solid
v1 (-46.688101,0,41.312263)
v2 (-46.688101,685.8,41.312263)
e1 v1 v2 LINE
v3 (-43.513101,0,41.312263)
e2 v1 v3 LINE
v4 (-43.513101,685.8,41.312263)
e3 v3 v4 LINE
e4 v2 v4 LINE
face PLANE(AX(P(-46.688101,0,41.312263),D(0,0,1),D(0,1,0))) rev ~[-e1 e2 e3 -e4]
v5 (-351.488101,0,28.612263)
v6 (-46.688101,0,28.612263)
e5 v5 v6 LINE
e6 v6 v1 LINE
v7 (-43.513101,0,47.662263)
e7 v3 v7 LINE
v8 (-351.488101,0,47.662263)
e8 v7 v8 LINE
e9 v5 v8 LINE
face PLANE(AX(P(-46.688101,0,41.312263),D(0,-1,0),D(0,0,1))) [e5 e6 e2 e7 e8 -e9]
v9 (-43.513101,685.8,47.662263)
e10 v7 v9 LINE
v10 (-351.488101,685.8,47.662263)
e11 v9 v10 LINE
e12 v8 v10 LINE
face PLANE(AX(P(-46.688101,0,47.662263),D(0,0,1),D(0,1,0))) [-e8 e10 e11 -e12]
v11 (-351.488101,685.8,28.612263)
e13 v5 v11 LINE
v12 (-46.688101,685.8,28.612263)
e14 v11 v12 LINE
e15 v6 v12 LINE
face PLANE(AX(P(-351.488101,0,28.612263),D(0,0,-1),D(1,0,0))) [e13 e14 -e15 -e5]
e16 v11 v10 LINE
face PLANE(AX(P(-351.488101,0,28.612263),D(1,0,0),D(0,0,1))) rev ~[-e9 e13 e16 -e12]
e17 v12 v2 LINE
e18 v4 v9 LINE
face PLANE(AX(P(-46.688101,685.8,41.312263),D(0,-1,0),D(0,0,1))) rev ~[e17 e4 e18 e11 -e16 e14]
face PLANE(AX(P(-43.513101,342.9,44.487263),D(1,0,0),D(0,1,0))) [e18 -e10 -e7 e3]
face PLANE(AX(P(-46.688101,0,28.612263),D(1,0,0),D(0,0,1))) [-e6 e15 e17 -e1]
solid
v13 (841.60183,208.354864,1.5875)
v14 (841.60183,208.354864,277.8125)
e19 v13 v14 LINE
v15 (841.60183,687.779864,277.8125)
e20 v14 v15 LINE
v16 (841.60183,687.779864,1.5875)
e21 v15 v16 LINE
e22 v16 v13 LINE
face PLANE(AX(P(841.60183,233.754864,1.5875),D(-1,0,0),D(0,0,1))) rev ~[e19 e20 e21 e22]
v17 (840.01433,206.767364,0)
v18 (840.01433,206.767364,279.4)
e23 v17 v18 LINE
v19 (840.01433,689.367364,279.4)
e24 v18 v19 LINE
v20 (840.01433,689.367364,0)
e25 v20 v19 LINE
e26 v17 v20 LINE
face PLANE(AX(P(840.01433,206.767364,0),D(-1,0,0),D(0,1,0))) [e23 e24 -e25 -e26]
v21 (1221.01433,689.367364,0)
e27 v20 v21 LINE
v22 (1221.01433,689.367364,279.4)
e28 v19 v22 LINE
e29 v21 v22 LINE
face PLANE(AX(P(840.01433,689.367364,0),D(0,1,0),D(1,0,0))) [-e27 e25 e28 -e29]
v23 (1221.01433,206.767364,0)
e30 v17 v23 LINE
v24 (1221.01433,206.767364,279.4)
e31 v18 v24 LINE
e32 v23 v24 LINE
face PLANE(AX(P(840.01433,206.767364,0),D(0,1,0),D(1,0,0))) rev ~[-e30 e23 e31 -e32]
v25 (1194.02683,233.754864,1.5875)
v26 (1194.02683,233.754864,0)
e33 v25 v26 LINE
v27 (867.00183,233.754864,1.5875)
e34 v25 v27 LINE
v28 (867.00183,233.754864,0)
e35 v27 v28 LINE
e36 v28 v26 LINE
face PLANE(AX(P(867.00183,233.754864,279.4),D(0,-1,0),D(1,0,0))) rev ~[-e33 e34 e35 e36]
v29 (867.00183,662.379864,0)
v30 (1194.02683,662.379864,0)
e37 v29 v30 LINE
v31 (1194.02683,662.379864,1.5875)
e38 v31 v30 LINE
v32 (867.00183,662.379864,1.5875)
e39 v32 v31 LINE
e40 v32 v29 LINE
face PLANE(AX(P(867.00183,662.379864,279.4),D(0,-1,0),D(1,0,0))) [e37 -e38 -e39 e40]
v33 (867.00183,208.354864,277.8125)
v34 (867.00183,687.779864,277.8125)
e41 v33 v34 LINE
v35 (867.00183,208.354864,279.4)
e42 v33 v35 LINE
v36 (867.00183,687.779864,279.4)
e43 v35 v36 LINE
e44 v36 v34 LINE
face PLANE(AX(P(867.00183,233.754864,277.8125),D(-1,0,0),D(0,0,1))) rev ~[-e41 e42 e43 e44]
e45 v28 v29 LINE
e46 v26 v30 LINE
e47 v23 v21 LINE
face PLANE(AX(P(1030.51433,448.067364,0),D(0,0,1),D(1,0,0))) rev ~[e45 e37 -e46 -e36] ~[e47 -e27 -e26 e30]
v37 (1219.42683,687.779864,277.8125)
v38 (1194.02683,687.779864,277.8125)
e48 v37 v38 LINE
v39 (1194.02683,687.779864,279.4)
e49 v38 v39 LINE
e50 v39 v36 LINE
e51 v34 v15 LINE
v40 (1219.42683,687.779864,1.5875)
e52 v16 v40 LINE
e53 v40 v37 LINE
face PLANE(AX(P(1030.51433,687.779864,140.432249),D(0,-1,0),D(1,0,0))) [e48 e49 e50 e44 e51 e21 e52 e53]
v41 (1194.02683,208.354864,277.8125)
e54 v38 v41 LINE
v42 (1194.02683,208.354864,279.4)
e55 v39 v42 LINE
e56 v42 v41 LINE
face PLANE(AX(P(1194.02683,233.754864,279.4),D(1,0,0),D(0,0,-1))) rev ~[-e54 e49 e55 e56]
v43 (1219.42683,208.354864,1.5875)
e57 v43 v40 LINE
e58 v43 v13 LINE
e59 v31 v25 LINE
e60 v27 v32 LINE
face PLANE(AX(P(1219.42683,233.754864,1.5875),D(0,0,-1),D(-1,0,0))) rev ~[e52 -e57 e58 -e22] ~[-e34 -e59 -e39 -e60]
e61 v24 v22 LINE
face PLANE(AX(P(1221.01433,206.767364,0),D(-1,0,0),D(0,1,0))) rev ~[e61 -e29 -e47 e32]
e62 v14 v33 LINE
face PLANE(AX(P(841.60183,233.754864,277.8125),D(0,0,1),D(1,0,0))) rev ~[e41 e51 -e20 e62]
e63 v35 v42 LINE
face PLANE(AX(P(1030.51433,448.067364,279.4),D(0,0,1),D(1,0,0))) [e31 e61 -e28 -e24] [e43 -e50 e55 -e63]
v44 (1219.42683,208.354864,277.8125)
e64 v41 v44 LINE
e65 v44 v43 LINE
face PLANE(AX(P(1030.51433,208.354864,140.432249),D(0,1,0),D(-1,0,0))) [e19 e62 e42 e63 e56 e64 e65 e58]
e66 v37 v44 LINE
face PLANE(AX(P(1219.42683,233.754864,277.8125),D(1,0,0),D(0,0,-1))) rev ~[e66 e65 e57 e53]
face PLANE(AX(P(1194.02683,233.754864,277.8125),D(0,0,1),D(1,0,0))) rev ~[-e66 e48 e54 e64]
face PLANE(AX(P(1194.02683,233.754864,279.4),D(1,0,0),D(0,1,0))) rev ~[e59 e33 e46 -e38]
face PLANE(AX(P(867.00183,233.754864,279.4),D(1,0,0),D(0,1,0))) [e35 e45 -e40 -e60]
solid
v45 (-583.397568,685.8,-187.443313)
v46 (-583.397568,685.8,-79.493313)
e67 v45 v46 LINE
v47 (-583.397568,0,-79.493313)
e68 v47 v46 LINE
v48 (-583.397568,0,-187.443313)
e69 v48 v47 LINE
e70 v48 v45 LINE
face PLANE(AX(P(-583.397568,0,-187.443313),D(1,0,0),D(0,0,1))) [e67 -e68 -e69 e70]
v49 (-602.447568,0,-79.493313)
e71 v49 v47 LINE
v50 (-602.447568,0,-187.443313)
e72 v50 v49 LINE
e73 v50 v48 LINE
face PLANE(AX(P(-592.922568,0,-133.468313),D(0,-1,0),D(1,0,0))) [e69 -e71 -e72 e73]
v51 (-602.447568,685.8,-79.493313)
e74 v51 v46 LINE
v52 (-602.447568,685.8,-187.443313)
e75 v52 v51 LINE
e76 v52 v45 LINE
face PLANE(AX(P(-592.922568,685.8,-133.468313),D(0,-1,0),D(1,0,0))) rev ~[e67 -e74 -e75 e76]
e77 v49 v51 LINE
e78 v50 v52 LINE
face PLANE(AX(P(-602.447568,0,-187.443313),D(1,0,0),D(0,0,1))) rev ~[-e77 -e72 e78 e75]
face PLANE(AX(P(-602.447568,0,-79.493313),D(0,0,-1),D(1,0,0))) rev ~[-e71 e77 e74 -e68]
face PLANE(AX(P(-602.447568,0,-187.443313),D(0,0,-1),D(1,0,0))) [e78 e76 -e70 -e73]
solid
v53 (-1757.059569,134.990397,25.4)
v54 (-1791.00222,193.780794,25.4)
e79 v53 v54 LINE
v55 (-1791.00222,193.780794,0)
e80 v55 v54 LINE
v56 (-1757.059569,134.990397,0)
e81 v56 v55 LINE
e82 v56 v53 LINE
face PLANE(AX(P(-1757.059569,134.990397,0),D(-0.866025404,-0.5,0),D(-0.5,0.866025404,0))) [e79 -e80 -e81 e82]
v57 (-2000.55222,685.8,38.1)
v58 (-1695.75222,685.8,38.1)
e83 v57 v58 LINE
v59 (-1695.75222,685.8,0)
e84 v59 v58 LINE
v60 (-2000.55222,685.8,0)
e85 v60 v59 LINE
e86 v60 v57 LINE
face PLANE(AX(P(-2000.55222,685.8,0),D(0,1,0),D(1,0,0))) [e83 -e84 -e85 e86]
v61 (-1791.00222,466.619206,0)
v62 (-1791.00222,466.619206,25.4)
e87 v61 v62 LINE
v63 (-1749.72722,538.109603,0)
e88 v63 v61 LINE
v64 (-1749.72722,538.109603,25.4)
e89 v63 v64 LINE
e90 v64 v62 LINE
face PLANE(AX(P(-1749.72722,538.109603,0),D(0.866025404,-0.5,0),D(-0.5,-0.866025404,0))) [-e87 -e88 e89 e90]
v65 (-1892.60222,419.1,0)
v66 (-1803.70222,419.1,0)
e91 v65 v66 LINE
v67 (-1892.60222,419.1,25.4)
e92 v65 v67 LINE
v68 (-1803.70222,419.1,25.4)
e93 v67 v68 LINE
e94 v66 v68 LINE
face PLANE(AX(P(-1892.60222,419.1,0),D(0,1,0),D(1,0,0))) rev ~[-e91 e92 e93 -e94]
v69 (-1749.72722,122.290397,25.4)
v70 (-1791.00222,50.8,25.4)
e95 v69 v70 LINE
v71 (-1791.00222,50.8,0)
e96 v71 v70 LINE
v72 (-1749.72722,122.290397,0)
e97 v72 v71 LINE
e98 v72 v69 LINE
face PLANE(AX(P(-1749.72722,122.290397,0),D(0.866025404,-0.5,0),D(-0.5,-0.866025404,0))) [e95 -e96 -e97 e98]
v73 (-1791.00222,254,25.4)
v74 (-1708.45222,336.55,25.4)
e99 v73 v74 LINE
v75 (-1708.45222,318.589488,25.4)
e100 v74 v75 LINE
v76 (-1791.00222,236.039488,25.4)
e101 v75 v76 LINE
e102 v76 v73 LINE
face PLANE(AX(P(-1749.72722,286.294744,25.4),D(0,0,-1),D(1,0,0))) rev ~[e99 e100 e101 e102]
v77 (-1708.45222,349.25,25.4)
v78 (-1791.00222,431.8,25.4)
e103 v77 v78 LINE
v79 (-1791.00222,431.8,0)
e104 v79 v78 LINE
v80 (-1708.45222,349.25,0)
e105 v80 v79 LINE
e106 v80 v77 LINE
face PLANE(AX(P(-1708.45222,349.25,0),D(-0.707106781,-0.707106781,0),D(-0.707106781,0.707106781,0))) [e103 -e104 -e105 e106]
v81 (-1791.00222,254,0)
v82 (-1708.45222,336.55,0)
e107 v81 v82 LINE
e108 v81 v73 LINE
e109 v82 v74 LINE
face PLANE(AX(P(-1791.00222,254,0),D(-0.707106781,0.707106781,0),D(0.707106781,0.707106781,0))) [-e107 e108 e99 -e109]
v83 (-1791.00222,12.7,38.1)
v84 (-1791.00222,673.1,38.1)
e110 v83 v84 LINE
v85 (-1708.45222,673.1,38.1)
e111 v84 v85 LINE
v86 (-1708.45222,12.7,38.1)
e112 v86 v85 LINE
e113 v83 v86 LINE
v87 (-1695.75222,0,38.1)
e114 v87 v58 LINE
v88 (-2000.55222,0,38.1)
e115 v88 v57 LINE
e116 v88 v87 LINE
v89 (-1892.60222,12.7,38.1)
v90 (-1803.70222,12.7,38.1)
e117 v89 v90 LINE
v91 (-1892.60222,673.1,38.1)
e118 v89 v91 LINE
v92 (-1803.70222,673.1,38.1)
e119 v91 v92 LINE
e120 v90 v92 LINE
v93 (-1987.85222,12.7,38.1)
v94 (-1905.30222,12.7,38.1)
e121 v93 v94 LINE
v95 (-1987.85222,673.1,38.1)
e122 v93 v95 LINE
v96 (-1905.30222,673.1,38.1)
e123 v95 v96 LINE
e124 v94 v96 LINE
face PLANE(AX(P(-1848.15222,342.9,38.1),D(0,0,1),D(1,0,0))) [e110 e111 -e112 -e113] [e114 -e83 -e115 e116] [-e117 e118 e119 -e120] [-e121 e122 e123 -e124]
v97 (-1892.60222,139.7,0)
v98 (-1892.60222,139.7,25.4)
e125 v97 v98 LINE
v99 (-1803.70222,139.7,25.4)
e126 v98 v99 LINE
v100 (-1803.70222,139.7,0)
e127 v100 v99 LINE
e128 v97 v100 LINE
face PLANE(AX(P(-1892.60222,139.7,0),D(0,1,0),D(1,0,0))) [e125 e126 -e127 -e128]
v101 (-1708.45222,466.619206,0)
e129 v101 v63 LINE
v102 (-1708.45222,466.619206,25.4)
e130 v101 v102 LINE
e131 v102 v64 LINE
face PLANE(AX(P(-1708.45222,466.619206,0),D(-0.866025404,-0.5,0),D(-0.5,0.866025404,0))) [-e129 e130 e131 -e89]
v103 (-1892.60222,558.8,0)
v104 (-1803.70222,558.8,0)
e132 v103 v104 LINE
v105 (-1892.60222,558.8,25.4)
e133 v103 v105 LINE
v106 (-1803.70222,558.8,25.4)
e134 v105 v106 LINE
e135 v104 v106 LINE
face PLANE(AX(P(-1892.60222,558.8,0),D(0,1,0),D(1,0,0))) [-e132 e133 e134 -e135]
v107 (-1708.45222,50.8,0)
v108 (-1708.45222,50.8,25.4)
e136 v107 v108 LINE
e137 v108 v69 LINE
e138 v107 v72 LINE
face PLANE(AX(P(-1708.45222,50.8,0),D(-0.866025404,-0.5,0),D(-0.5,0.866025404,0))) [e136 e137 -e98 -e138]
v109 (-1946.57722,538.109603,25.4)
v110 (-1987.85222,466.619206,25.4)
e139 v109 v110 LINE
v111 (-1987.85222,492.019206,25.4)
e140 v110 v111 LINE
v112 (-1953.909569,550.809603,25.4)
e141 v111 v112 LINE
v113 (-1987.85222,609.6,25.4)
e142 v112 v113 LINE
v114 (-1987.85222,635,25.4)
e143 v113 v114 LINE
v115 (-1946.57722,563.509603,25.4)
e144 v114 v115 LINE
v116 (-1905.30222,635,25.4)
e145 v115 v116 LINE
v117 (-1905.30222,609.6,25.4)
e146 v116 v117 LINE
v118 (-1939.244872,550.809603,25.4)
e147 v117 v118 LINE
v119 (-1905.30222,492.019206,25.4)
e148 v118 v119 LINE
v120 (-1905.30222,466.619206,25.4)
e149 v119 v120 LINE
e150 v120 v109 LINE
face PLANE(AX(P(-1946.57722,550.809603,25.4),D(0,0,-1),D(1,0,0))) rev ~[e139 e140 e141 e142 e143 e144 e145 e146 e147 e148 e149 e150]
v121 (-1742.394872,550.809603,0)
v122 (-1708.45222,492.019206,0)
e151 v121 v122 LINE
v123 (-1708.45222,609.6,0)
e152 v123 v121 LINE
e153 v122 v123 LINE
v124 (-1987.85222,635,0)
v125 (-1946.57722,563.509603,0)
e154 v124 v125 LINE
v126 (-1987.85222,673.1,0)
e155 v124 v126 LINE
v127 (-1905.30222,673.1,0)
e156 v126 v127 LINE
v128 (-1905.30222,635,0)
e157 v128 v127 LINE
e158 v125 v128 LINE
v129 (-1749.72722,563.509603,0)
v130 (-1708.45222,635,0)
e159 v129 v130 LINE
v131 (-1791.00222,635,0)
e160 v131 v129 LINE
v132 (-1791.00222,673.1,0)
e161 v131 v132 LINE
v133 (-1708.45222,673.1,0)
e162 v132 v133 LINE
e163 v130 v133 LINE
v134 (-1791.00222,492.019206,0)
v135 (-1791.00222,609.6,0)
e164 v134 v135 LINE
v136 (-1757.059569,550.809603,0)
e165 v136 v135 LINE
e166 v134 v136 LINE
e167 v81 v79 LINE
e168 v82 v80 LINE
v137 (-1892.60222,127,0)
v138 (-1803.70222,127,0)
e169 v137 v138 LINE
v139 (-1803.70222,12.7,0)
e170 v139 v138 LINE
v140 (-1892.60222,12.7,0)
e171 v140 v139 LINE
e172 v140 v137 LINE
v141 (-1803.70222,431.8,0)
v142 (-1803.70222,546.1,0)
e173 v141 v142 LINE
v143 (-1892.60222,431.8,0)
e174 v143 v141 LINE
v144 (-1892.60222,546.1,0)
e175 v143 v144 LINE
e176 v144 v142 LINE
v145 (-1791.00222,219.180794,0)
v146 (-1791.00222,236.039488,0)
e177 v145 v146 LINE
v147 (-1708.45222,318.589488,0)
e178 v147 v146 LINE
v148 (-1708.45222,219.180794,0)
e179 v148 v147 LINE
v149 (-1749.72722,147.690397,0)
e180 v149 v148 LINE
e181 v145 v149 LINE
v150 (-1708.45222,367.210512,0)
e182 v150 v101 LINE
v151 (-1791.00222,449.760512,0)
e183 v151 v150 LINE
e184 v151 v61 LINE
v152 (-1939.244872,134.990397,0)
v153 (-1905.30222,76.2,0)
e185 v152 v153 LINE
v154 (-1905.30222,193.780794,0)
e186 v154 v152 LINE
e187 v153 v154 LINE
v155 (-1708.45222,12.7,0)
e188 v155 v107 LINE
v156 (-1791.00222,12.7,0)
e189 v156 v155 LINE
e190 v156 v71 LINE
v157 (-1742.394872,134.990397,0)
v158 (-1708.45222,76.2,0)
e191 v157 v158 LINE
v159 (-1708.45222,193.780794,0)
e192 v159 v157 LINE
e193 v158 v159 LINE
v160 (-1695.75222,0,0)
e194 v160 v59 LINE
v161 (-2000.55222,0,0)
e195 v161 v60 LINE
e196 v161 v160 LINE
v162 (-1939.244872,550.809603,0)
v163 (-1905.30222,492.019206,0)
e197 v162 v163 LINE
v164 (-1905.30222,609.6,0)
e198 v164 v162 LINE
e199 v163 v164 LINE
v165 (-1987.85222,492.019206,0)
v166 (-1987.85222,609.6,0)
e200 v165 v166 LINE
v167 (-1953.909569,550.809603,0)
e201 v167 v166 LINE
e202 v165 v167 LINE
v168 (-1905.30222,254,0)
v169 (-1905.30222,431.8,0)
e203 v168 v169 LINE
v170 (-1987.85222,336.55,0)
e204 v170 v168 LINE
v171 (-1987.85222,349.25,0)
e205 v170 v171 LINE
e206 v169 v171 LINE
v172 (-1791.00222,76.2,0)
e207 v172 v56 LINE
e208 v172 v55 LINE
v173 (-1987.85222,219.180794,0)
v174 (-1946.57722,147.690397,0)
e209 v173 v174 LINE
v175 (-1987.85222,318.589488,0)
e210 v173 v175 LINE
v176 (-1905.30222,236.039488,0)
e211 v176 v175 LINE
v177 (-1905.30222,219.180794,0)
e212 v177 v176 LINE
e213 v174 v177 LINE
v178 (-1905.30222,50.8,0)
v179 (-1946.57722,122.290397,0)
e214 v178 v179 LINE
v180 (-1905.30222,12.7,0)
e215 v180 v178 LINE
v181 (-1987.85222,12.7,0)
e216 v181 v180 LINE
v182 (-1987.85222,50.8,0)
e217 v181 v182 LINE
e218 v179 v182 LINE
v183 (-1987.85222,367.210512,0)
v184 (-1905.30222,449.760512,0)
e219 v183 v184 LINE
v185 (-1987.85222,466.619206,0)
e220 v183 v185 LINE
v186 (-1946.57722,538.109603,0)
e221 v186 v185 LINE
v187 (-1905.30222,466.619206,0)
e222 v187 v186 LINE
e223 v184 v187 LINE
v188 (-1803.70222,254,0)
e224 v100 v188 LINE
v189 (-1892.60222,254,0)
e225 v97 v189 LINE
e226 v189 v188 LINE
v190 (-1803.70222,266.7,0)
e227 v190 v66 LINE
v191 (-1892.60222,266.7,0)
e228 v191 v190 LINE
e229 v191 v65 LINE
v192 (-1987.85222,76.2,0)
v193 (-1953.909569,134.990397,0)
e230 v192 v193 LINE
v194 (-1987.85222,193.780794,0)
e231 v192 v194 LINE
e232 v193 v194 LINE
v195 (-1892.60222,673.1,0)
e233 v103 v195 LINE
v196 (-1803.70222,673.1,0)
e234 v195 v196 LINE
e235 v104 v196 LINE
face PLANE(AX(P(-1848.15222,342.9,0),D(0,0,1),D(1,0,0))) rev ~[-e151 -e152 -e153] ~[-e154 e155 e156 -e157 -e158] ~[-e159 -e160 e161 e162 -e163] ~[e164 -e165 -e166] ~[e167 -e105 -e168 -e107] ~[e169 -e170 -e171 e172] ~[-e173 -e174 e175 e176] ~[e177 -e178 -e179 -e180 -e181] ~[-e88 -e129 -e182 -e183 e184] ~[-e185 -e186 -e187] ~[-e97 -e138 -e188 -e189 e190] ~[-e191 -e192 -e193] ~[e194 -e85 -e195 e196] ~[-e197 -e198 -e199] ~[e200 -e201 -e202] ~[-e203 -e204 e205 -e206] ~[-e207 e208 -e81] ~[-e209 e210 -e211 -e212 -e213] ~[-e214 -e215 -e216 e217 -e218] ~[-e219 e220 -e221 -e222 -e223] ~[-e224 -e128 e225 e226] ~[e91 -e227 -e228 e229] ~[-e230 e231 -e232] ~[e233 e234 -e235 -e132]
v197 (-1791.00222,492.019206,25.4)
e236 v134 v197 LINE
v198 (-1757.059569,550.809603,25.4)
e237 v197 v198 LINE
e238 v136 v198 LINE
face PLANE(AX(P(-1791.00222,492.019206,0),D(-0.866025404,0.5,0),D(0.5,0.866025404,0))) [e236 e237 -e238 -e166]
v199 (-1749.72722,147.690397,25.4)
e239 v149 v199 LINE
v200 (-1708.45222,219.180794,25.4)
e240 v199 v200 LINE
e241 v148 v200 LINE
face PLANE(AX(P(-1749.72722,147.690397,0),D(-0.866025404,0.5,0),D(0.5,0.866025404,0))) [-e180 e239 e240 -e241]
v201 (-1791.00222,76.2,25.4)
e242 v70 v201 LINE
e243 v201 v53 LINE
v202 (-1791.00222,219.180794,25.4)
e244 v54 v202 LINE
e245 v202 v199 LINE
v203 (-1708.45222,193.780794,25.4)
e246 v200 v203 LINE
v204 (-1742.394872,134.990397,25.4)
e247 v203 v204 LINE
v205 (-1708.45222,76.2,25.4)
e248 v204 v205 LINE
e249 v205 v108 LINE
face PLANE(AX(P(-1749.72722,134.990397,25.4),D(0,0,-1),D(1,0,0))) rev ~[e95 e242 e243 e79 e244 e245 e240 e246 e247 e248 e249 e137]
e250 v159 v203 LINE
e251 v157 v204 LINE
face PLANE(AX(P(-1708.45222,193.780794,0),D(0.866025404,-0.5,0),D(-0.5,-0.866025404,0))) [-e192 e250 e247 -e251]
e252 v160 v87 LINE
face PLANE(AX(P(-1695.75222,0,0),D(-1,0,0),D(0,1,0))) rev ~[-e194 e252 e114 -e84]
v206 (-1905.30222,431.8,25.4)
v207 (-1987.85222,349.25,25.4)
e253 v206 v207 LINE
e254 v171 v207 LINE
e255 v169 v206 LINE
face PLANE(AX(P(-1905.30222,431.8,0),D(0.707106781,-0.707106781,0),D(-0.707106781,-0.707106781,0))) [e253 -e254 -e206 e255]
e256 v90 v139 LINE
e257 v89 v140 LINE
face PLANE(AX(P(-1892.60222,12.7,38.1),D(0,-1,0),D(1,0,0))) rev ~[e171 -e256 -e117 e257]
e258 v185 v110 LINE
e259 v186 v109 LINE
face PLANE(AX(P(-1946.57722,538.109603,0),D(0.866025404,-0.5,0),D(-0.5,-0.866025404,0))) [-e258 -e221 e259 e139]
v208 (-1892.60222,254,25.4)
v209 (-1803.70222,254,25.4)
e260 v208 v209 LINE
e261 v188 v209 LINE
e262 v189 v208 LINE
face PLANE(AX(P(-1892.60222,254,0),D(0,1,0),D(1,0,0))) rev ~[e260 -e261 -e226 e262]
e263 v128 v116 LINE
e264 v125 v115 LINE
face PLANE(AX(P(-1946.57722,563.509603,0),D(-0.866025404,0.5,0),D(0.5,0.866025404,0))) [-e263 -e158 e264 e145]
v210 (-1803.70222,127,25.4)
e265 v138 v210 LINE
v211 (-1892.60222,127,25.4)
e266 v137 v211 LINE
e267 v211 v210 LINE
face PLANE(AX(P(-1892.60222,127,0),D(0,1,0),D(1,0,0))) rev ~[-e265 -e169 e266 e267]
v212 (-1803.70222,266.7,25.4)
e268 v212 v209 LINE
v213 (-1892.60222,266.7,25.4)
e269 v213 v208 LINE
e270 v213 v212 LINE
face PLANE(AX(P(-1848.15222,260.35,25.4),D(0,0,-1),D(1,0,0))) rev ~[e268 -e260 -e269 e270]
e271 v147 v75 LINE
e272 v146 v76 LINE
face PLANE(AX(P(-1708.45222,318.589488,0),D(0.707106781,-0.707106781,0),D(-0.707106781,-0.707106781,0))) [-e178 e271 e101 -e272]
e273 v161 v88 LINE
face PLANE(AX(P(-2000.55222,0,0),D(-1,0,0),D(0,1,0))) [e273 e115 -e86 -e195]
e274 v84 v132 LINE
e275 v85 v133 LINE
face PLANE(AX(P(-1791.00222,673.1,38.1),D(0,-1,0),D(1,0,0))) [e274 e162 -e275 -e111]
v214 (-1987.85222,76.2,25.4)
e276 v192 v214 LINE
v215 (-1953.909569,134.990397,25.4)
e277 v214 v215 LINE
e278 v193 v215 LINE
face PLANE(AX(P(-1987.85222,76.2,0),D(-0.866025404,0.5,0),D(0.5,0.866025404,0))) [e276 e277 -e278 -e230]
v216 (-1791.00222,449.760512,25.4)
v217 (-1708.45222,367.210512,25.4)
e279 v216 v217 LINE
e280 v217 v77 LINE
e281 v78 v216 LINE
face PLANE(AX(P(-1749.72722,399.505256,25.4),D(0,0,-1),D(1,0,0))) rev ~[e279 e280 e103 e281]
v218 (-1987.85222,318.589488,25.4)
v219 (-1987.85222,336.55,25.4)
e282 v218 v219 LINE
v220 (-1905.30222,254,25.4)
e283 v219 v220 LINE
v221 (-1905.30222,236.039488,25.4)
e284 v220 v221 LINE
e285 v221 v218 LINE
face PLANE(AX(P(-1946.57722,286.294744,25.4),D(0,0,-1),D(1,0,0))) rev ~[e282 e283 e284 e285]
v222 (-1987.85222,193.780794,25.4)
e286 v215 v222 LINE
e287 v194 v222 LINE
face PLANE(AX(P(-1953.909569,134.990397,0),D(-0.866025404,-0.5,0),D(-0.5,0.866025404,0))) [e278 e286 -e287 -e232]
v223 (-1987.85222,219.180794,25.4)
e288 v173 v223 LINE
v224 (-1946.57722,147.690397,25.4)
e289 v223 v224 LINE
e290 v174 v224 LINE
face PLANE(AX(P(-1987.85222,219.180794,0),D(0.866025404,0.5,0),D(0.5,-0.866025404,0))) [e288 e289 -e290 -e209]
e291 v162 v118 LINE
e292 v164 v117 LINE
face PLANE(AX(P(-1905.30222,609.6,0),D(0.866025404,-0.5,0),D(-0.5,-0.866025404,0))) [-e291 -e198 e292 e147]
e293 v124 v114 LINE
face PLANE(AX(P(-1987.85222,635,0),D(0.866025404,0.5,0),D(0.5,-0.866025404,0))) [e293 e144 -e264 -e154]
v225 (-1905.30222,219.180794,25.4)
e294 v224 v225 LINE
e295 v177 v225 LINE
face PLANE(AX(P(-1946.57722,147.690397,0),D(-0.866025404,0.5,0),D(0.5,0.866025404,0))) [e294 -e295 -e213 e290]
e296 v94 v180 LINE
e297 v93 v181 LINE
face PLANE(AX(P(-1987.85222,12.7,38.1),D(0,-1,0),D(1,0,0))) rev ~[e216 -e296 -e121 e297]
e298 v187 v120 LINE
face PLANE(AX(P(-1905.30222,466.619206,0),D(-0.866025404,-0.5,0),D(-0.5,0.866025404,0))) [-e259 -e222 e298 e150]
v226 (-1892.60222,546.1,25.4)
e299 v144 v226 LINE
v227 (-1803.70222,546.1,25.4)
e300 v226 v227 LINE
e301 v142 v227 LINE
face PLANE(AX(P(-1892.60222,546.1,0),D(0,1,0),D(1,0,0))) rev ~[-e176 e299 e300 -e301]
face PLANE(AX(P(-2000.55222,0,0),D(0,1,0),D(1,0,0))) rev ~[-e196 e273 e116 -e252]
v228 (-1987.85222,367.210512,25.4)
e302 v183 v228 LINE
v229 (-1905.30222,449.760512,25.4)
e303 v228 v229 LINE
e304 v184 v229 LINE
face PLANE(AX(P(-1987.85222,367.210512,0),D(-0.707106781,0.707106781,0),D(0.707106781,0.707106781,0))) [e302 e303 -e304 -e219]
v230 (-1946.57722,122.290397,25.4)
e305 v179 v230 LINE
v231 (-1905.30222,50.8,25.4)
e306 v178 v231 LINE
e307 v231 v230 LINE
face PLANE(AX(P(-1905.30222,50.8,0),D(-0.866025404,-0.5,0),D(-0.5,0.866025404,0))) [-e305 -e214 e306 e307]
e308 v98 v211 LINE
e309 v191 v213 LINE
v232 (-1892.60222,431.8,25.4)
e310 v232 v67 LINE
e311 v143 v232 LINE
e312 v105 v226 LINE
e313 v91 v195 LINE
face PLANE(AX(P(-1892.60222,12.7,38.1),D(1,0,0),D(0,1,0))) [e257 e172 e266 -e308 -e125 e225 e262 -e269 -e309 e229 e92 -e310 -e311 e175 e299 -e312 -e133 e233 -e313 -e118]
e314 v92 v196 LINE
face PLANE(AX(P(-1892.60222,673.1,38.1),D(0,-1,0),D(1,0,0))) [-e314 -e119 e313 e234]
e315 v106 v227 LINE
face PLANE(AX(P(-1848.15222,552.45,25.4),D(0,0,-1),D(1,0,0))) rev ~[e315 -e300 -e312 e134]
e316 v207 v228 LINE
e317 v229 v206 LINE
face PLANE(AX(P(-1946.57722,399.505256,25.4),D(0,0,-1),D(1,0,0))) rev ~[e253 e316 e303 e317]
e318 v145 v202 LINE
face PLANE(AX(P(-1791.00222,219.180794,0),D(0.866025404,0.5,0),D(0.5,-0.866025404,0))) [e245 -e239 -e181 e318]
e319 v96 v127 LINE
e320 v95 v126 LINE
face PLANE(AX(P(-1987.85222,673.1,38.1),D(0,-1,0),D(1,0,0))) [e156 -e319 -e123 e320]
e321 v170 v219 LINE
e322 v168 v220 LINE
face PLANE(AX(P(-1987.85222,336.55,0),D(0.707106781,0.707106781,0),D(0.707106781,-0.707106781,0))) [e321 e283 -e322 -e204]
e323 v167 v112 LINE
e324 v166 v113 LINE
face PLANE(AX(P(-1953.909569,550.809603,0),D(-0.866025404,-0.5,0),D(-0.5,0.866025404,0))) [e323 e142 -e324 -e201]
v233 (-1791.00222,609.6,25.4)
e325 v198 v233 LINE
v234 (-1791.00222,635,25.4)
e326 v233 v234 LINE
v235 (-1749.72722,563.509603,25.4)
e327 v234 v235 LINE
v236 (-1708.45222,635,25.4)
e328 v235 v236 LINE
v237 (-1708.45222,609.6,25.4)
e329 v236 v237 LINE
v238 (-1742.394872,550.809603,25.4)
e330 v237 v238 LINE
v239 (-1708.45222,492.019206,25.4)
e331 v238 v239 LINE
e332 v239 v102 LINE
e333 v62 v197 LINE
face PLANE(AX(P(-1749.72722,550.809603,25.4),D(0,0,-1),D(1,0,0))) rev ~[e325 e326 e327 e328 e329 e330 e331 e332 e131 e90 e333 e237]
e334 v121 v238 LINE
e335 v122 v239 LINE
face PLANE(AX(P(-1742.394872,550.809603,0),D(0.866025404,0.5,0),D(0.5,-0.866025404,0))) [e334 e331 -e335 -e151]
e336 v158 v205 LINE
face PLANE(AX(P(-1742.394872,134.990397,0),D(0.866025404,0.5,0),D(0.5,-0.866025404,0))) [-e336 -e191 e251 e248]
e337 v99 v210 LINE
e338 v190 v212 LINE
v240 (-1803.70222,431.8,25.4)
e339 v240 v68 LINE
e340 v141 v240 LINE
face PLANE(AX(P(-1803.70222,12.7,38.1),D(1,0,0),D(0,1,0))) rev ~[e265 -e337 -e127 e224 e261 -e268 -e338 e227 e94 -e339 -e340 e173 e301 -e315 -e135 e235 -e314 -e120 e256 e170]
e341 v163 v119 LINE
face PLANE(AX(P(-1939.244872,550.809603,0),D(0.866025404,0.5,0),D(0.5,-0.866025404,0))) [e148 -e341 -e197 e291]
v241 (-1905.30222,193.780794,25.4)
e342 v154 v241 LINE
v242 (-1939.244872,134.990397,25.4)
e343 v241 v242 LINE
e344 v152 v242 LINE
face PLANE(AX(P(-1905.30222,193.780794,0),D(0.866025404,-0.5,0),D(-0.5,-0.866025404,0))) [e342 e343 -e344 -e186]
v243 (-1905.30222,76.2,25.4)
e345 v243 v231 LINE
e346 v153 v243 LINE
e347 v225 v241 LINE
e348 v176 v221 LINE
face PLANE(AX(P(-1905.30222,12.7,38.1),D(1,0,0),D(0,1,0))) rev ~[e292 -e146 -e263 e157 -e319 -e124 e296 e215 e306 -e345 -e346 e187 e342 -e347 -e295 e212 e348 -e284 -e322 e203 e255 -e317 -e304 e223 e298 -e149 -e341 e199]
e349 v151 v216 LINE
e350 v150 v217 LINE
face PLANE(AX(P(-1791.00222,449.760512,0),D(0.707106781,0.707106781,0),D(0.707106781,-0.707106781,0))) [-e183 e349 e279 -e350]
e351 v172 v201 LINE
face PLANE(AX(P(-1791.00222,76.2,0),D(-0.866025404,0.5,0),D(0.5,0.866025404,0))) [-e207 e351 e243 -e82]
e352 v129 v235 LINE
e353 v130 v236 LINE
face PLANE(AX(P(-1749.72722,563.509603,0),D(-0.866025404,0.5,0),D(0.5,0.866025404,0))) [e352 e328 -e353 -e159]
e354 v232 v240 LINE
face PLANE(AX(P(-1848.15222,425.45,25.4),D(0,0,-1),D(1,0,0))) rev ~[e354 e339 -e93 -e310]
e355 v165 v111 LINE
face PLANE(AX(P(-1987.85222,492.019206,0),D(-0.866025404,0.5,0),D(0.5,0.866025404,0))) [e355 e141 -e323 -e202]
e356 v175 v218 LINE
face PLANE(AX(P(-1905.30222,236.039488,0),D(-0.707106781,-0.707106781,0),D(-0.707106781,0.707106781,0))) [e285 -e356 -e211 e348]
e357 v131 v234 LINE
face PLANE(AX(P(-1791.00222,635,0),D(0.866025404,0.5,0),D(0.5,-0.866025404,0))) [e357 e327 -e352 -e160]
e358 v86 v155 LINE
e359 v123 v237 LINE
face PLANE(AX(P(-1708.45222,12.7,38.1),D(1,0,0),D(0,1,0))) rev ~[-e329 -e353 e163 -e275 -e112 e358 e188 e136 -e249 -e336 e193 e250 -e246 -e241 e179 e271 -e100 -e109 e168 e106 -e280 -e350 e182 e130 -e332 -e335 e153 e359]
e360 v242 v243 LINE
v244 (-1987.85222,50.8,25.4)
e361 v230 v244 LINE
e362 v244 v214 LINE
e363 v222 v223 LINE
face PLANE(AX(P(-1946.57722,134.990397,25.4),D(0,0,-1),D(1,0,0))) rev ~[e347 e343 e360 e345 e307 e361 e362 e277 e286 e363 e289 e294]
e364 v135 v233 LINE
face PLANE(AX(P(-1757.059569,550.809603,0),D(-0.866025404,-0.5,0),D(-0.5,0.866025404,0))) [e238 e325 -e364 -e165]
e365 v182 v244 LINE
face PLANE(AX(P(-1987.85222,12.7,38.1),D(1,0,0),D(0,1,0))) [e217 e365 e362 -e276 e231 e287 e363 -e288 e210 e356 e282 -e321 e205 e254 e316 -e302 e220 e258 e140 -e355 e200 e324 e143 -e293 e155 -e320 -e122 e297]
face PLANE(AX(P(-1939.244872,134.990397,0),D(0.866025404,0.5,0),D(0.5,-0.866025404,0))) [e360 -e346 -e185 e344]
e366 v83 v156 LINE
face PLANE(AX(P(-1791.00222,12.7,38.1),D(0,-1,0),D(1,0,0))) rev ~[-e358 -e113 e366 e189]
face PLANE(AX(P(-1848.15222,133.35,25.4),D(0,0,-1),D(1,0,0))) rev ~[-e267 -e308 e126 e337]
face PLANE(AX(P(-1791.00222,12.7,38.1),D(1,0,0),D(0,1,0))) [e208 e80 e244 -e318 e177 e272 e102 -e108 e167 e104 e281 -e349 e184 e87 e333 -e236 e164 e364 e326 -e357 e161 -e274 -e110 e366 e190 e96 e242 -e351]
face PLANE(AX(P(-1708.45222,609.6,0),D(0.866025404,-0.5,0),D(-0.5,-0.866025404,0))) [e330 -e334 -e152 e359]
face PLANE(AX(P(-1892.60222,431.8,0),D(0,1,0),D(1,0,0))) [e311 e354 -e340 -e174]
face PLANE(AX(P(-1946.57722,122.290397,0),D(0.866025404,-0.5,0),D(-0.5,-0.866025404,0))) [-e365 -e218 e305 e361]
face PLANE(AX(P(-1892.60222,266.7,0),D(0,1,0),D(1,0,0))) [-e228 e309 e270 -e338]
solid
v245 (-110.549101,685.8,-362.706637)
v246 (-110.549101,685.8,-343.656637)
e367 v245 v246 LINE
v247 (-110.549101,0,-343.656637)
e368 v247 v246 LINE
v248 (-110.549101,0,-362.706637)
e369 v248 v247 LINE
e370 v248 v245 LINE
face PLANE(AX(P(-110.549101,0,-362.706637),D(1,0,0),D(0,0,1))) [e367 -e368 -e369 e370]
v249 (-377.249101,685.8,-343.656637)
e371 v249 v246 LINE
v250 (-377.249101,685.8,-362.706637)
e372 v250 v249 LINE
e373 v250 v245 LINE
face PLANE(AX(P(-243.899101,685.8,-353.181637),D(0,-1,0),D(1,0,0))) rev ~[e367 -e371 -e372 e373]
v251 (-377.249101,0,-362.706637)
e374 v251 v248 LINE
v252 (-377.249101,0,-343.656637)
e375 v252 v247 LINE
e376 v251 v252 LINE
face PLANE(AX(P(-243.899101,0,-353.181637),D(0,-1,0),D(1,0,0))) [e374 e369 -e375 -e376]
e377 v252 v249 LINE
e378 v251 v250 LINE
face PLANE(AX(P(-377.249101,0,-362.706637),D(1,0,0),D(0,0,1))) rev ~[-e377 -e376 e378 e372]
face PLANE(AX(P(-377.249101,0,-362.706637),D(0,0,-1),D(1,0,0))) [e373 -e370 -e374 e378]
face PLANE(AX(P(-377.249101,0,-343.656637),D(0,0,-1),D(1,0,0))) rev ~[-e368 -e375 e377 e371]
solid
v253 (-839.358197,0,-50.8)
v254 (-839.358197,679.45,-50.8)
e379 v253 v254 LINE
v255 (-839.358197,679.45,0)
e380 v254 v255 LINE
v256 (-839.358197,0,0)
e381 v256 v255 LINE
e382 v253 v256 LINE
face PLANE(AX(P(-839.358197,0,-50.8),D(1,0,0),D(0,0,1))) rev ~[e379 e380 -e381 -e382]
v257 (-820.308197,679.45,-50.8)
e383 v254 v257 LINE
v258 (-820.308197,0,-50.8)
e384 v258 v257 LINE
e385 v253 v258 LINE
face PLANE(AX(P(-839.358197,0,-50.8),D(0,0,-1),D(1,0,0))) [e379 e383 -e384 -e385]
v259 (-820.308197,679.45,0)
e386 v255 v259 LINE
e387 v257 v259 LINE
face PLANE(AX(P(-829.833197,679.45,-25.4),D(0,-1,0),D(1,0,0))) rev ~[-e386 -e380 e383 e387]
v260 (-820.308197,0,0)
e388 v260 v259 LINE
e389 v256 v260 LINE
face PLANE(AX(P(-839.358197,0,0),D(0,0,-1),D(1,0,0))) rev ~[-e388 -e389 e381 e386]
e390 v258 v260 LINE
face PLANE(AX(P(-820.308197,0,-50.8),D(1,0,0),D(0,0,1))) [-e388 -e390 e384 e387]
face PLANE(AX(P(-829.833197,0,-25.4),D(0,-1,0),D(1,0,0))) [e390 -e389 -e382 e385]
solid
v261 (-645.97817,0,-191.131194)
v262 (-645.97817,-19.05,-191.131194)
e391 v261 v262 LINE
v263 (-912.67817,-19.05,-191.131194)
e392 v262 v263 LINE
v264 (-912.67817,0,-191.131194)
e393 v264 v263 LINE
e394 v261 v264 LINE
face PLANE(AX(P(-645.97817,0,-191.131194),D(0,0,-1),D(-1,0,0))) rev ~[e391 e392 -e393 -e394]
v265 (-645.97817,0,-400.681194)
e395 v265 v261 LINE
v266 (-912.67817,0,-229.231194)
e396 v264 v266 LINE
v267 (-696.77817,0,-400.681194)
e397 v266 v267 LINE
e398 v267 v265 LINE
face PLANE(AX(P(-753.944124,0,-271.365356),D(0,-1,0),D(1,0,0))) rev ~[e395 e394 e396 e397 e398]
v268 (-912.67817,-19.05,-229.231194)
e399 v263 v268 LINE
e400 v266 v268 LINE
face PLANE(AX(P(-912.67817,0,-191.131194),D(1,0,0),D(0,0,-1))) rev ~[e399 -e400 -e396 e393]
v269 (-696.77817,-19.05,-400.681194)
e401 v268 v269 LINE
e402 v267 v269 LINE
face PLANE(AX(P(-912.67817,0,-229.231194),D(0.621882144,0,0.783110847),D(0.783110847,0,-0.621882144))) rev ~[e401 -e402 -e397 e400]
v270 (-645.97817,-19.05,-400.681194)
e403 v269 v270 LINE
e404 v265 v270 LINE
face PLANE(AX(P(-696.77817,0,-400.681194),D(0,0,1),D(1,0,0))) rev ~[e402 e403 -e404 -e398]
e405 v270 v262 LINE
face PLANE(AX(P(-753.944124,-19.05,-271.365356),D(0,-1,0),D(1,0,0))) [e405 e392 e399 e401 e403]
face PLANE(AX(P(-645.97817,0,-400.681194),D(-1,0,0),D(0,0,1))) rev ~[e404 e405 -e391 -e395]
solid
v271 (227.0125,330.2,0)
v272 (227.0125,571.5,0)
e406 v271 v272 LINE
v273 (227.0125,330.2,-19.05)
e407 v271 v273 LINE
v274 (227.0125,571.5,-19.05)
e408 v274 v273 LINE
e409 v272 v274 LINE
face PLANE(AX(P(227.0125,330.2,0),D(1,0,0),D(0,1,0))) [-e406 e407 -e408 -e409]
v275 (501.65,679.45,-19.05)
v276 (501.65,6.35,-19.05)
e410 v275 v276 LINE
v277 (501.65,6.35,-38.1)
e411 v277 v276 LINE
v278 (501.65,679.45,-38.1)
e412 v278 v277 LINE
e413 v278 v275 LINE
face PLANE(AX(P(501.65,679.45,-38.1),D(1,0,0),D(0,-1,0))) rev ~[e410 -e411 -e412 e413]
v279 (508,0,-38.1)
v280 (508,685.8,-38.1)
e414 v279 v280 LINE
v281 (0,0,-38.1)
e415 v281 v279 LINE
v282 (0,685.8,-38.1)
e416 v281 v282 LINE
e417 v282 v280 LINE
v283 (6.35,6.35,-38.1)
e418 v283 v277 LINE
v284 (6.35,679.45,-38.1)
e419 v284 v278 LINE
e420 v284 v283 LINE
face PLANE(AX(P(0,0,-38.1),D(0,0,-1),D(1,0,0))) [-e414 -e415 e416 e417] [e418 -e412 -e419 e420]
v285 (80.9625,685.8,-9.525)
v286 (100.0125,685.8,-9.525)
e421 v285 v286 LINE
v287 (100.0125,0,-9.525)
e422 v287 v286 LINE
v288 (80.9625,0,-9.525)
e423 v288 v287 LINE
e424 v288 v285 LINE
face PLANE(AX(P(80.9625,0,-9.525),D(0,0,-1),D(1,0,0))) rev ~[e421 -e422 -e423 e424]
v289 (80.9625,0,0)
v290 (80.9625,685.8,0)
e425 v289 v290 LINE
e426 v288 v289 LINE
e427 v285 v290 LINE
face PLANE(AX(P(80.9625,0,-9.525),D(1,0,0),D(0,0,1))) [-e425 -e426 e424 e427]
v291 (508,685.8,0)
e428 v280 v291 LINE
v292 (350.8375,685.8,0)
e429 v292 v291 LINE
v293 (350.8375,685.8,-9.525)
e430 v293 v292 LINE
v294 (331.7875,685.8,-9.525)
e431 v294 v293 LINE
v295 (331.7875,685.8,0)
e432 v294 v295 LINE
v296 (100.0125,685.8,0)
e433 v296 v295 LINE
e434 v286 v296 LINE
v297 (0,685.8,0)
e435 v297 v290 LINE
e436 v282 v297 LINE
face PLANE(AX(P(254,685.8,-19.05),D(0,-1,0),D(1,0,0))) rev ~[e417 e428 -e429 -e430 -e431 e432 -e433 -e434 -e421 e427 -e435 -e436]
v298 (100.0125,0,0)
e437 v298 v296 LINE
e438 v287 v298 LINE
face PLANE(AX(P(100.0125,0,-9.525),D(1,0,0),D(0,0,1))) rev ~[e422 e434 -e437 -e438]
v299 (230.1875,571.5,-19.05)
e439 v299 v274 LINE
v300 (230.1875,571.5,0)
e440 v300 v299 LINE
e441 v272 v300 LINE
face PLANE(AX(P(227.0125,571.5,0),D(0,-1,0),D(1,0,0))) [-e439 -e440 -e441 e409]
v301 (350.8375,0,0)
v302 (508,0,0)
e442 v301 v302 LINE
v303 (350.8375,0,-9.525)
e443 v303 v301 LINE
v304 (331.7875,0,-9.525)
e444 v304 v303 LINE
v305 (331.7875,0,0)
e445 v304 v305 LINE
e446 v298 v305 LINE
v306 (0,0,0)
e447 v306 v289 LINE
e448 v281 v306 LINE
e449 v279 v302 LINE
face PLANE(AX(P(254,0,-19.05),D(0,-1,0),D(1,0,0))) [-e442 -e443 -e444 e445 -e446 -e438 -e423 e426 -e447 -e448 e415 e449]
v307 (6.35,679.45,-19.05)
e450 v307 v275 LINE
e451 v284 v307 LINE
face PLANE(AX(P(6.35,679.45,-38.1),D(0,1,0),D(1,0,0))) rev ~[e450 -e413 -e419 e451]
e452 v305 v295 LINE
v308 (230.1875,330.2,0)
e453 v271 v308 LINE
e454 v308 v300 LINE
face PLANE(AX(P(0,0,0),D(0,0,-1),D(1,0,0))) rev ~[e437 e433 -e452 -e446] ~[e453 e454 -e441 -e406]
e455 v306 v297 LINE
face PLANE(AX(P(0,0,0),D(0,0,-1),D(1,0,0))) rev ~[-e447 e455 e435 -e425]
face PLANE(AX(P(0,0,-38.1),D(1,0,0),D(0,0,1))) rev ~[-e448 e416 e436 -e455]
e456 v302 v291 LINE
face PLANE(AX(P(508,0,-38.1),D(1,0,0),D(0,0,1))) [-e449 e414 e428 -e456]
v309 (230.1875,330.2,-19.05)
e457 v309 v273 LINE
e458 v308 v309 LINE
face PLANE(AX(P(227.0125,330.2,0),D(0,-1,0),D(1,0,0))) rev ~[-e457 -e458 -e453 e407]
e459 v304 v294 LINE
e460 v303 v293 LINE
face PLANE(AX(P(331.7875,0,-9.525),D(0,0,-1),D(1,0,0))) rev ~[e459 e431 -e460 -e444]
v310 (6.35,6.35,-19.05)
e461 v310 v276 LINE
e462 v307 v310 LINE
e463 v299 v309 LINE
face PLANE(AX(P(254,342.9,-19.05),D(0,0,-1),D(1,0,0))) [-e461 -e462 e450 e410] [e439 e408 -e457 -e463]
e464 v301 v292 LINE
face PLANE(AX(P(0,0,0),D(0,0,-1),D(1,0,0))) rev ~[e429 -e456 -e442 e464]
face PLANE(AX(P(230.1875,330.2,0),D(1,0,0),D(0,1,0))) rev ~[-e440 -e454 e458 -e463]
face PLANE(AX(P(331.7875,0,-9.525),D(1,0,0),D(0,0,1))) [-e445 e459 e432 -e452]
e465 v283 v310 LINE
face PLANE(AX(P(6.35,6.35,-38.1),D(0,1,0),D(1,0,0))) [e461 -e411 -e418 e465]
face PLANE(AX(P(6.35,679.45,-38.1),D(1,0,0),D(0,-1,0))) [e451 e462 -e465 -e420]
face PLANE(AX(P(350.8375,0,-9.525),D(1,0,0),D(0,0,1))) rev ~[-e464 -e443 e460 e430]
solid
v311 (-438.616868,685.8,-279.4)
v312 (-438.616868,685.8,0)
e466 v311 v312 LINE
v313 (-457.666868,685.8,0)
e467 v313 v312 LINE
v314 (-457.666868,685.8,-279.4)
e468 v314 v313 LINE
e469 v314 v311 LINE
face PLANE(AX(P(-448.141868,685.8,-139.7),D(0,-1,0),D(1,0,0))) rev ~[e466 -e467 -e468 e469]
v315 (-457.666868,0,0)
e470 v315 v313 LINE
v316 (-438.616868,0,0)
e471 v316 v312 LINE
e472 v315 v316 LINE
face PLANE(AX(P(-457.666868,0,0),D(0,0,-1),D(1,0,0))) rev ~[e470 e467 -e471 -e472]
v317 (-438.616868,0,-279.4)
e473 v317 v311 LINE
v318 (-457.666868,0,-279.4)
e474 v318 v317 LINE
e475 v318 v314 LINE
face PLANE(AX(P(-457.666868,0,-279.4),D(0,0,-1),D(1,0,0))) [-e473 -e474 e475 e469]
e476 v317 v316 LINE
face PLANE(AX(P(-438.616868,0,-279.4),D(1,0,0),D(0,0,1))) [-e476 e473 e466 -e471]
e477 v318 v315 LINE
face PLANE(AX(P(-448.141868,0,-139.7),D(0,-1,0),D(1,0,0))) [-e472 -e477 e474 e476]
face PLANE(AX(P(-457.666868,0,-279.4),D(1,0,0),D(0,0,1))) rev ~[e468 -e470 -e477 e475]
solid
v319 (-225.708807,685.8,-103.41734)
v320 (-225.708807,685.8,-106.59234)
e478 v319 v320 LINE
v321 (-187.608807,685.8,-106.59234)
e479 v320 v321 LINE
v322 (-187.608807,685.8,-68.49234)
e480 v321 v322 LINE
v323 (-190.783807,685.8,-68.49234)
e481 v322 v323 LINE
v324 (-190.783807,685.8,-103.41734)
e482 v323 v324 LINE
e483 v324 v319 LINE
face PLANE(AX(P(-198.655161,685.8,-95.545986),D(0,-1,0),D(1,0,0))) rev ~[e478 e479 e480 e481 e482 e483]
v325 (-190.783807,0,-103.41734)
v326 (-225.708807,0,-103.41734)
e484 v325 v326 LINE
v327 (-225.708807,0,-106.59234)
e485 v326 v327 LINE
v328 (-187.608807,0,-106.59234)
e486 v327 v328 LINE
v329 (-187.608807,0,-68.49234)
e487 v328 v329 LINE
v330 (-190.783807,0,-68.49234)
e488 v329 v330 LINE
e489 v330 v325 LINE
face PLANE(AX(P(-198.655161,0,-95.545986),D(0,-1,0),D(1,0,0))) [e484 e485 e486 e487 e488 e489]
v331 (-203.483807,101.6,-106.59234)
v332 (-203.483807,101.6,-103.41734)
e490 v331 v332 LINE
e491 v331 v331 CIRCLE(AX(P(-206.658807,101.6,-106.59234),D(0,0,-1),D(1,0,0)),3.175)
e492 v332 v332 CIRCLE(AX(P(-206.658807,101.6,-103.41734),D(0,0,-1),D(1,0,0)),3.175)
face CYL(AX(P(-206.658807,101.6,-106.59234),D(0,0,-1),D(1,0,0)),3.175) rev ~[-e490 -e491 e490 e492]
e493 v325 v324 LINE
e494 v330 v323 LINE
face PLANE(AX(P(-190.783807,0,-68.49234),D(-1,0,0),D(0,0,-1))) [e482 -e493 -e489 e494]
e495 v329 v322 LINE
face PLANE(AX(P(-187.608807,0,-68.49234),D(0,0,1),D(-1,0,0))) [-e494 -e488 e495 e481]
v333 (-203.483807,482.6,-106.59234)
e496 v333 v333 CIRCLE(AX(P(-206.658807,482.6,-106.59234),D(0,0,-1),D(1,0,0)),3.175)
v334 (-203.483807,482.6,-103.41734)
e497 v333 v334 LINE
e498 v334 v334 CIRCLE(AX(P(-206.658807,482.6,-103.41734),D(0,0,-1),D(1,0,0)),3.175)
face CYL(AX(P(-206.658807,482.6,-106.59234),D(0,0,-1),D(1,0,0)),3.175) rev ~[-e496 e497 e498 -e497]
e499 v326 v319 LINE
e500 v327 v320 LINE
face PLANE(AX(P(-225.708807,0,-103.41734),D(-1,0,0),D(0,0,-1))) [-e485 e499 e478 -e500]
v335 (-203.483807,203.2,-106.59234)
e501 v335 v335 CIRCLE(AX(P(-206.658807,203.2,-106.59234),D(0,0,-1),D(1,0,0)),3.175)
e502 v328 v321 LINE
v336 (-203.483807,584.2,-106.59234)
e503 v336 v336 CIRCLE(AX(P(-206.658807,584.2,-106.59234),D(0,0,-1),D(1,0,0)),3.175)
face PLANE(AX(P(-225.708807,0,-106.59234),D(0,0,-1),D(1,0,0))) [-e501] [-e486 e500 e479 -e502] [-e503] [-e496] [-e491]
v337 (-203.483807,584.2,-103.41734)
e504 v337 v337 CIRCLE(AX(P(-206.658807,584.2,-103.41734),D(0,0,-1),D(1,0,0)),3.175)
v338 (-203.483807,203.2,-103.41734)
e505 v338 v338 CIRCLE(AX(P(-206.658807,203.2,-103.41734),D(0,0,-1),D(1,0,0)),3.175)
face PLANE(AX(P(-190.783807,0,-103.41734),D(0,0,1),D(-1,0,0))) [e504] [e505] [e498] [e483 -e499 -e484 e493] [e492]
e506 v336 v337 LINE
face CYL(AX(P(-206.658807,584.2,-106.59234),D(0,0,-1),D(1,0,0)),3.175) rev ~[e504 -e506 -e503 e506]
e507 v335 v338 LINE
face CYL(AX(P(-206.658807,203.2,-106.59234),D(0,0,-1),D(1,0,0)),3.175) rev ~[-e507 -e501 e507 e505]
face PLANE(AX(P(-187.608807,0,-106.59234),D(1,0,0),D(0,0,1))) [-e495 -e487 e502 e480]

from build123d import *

# Parameters (mm, degrees)
F0_W      = 508
F0_H      = 38.1
F1_DEPTH  = 685.8
F3_DEPTH  = 685.8
F4_W      = 304.8
F4_H      = 19.05
F5_DEPTH  = 685.8
F6_W      = 19.05
F6_H      = 279.4
F7_DEPTH  = 685.8
F8_W      = 495.3
F8_H      = 673.1
F9_DEPTH  = 19.05
F10_W     = 685.8
F10_H     = 6.35
F11_DEPTH = 3.175
F12_R     = 3.175
F13_DEPTH = 154.2556030521
F14_W     = 266.7
F14_H     = 19.05
F15_DEPTH = 685.8
F16_W     = 19.05
F16_H     = 50.8
F17_DEPTH = 679.45
F18_W     = 19.05
F18_H     = 107.95
F19_DEPTH = 685.8
F21_DEPTH = 19.05
F22_W     = 19.05
F22_H     = 9.525
F23_DEPTH = 685.801
F24_W     = 3.175
F24_H     = 241.3
F25_DEPTH = 400.6821936617
F26_W     = 381
F26_H     = 482.6
F27_DEPTH = 279.4
F28_W     = 327.025
F28_H     = 428.625
F29_DEPTH = 680.0821936617
F30_W     = 428.625
F30_H     = 276.225
F31_DEPTH = 25.4
F32_W     = 428.625
F32_H     = 276.225
F33_DEPTH = 25.4
F35_DEPTH = 25.4
F37_DEPTH = 25.4
F38_W     = 304.8
F38_H     = 685.8
F39_DEPTH = 38.1
F40_W     = 82.55
F40_H     = 660.4
F40_W_2   = 88.9
F41_DEPTH = 438.7821936617
F42_W     = 88.9
F42_H     = 660.4
F42_W_2   = 82.55
F43_DEPTH = 6.35
F44_W     = 88.9
F44_H     = 12.7
F45_DEPTH = 25.4


with BuildPart() as f1:
    # F0 (on Front) → F1 (new body)
    with BuildSketch(Plane.XZ):
        with Locations((254, -19.05)):
            Rectangle(F0_W, F0_H)
    extrude(amount=-F1_DEPTH)

    # F8 (on face) → F9 (cut)
    with BuildSketch(Plane(origin=(0, 0, -38.1), x_dir=(1, 0, 0), z_dir=(0, 0, -1))):
        with Locations((254, -342.9)):
            Rectangle(F8_W, F8_H)
    extrude(amount=-F9_DEPTH, mode=Mode.SUBTRACT)

    # F22 (on face) → F23 (cut, through all)
    with BuildSketch(Plane.XZ):
        with Locations((90.4875, -4.7625)):
            Rectangle(F22_W, F22_H)
        with Locations((341.3125, -4.7625)):
            Rectangle(F22_W, F22_H)
    extrude(amount=-F23_DEPTH, mode=Mode.SUBTRACT)

    # F24 (on face) → F25 (cut, through all)
    with BuildSketch(Plane.XY):
        with Locations((228.6, 450.85)):
            Rectangle(F24_W, F24_H)
    extrude(amount=-F25_DEPTH, mode=Mode.SUBTRACT)

    # F42 (on face) → F43 (cut)
    with BuildSketch(Plane.XY.offset(38.1)):
        with Locations((-1848.1522202492, 342.9)):
            Rectangle(F42_W, F42_H)
        with Locations((-1749.7272202492, 342.9)):
            Rectangle(F42_W_2, F42_H)
    extrude(amount=-F43_DEPTH, mode=Mode.SUBTRACT)


with BuildPart() as f3:
    # F2 (on Front) → F3 (new body, through all)
    with BuildSketch(Plane.XZ):
        Polygon((-187.6088068062, -106.5923403651), (-187.6088068062, -68.4923403651), (-190.7838068062, -68.4923403651), (-190.7838068062, -103.4173403651), (-225.7088068062, -103.4173403651), (-225.7088068062, -106.5923403651), align=None)
    extrude(amount=-F3_DEPTH)

    # F12 (on face) → F13 (cut, through all)
    with BuildSketch(Plane(origin=(0, 0, -106.5923403651), x_dir=(1, 0, 0), z_dir=(0, 0, -1))):
        with Locations((-206.6588068062, -101.6)):
            Circle(F12_R)
        with Locations((-206.6588068062, -203.2)):
            Circle(F12_R)
        with Locations((-206.6588068062, -482.6)):
            Circle(F12_R)
        with Locations((-206.6588068062, -584.2)):
            Circle(F12_R)
    extrude(amount=-F13_DEPTH, mode=Mode.SUBTRACT)


with BuildPart() as f5:
    # F4 (on Front) → F5 (new body, through all)
    with BuildSketch(Plane.XZ):
        with Locations((-199.0881011365, 38.1372626871)):
            Rectangle(F4_W, F4_H)
    extrude(amount=-F5_DEPTH)

    # F10 (on face) → F11 (join)
    with BuildSketch(Plane.YZ.offset(-46.6881011365)):
        with Locations((342.9, 44.4872626871)):
            Rectangle(F10_W, F10_H)
    extrude(amount=F11_DEPTH)


with BuildPart() as f7:
    # F6 (on Front) → F7 (new body, through all)
    with BuildSketch(Plane.XZ):
        with Locations((-448.1418677211, -139.7)):
            Rectangle(F6_W, F6_H)
    extrude(amount=-F7_DEPTH)


with BuildPart() as f15:
    # F14 (on Front) → F15 (new body, through all)
    with BuildSketch(Plane.XZ):
        with Locations((-243.8991005421, -353.181636688)):
            Rectangle(F14_W, F14_H)
    extrude(amount=-F15_DEPTH)


with BuildPart() as f17:
    # F16 (on Front) → F17 (new body, through all)
    with BuildSketch(Plane.XZ):
        with Locations((-829.8331966219, -25.4)):
            Rectangle(F16_W, F16_H)
    extrude(amount=-F17_DEPTH)


with BuildPart() as f19:
    # F18 (on Front) → F19 (new body, through all)
    with BuildSketch(Plane.XZ):
        with Locations((-592.9225683212, -133.4683134563)):
            Rectangle(F18_W, F18_H)
    extrude(amount=-F19_DEPTH)


with BuildPart() as f21:
    # F20 (on Front) → F21 (new body)
    with BuildSketch(Plane.XZ):
        Polygon((-645.9781700617, -191.1311936617), (-912.6781700617, -191.1311936617), (-912.6781700617, -229.2311936617), (-696.7781700617, -400.6811936617), (-645.9781700617, -400.6811936617), align=None)
    extrude(amount=F21_DEPTH)


with BuildPart() as f27:
    # F26 (on Top) → F27 (new body)
    with BuildSketch(Plane.XY):
        with Locations((1030.5143296719, 448.0673644527)):
            Rectangle(F26_W, F26_H)
    extrude(amount=F27_DEPTH)

    # F28 (on face) → F29 (cut, through all)
    with BuildSketch(Plane.XY.offset(279.4)):
        with Locations((1030.5143296719, 448.0673644527)):
            Rectangle(F28_W, F28_H)
    extrude(amount=-F29_DEPTH, mode=Mode.SUBTRACT)

    # F30 (on face) → F31 (cut)
    with BuildSketch(Plane.YZ.offset(867.0018296719)):
        with Locations((448.0673644527, 139.7)):
            Rectangle(F30_W, F30_H)
    extrude(amount=-F31_DEPTH, mode=Mode.SUBTRACT)

    # F32 (on face) → F33 (cut)
    with BuildSketch(Plane(origin=(1194.0268296719, 0, 0), x_dir=(0, -1, 0), z_dir=(-1, 0, 0))):
        with Locations((-448.0673644527, 139.7)):
            Rectangle(F32_W, F32_H)
    extrude(amount=-F33_DEPTH, mode=Mode.SUBTRACT)

    # F34 (on face) → F35 (cut)
    with BuildSketch(Plane.XZ.offset(-662.3798644527)):
        Polygon((1194.0268296719, 279.4), (867.0018296719, 279.4), (867.0018296719, 277.8125), (841.6018296719, 277.8125), (841.6018296719, 1.5875), (1219.4268296719, 1.5875), (1219.4268296719, 277.8125), (1194.0268296719, 277.8125), align=None)
    extrude(amount=-F35_DEPTH, mode=Mode.SUBTRACT)

    # F36 (on face) → F37 (cut)
    with BuildSketch(Plane(origin=(0, 233.7548644527, 0), x_dir=(-1, 0, 0), z_dir=(0, 1, 0))):
        Polygon((-867.0018296719, 277.8125), (-867.0018296719, 279.4), (-1194.0268296719, 279.4), (-1194.0268296719, 277.8125), (-1219.4268296719, 277.8125), (-1219.4268296719, 1.5875), (-841.6018296719, 1.5875), (-841.6018296719, 277.8125), align=None)
    extrude(amount=-F37_DEPTH, mode=Mode.SUBTRACT)


with BuildPart() as f39:
    # F38 (on Top) → F39 (new body)
    with BuildSketch(Plane.XY):
        with Locations((-1848.1522202492, 342.9)):
            Rectangle(F38_W, F38_H)
    extrude(amount=F39_DEPTH)

    # F40 (on face) → F41 (cut, through all)
    with BuildSketch(Plane.XY.offset(38.1)):
        with Locations((-1946.5772202492, 342.9)):
            Rectangle(F40_W, F40_H)
        with Locations((-1848.1522202492, 342.9)):
            Rectangle(F40_W_2, F40_H)
        with Locations((-1749.7272202492, 342.9)):
            Rectangle(F40_W, F40_H)
    extrude(amount=-F41_DEPTH, mode=Mode.SUBTRACT)

    # F44 (on face) → F45 (join)
    with BuildSketch(Plane(origin=(0, 0, 0), x_dir=(1, 0, 0), z_dir=(0, 0, -1))):
        Polygon((-1749.7272202492, -122.2903970824), (-1791.0022202492, -50.8), (-1791.0022202492, -76.2), (-1757.0595686679, -134.9903970824), (-1791.0022202492, -193.7807941648), (-1791.0022202492, -219.1807941648), (-1749.7272202492, -147.6903970824), (-1708.4522202492, -219.1807941648), (-1708.4522202492, -193.7807941648), (-1742.3948718305, -134.9903970824), (-1708.4522202492, -76.2), (-1708.4522202492, -50.8), align=None)
        Polygon((-1749.7272202492, -538.1096029176), (-1791.0022202492, -466.6192058352), (-1791.0022202492, -492.0192058352), (-1757.0595686679, -550.8096029176), (-1791.0022202492, -609.6), (-1791.0022202492, -635), (-1749.7272202492, -563.5096029176), (-1708.4522202492, -635), (-1708.4522202492, -609.6), (-1742.3948718305, -550.8096029176), (-1708.4522202492, -492.0192058352), (-1708.4522202492, -466.6192058352), align=None)
        Polygon((-1708.4522202492, -367.2105122421), (-1708.4522202492, -349.25), (-1791.0022202492, -431.8), (-1791.0022202492, -449.7605122421), align=None)
        Polygon((-1791.0022202492, -254), (-1708.4522202492, -336.55), (-1708.4522202492, -318.5894877579), (-1791.0022202492, -236.0394877579), align=None)
        Polygon((-1946.5772202492, -122.2903970824), (-1987.8522202492, -50.8), (-1987.8522202492, -76.2), (-1953.9095686679, -134.9903970824), (-1987.8522202492, -193.7807941648), (-1987.8522202492, -219.1807941648), (-1946.5772202492, -147.6903970824), (-1905.3022202492, -219.1807941648), (-1905.3022202492, -193.7807941648), (-1939.2448718305, -134.9903970824), (-1905.3022202492, -76.2), (-1905.3022202492, -50.8), align=None)
        Polygon((-1946.5772202492, -538.1096029176), (-1987.8522202492, -466.6192058352), (-1987.8522202492, -492.0192058352), (-1953.9095686679, -550.8096029176), (-1987.8522202492, -609.6), (-1987.8522202492, -635), (-1946.5772202492, -563.5096029176), (-1905.3022202492, -635), (-1905.3022202492, -609.6), (-1939.2448718305, -550.8096029176), (-1905.3022202492, -492.0192058352), (-1905.3022202492, -466.6192058352), align=None)
        Polygon((-1905.3022202492, -449.7605122421), (-1905.3022202492, -431.8), (-1987.8522202492, -349.25), (-1987.8522202492, -367.2105122421), align=None)
        Polygon((-1987.8522202492, -336.55), (-1905.3022202492, -254), (-1905.3022202492, -236.0394877579), (-1987.8522202492, -318.5894877579), align=None)
        with Locations((-1848.1522202492, -133.35)):
            Rectangle(F44_W, F44_H)
        with Locations((-1848.1522202492, -260.35)):
            Rectangle(F44_W, F44_H)
        with Locations((-1848.1522202492, -425.45)):
            Rectangle(F44_W, F44_H)
        with Locations((-1848.1522202492, -552.45)):
            Rectangle(F44_W, F44_H)
    extrude(amount=-F45_DEPTH)


solid = Compound([f1.part, f3.part, f5.part, f7.part, f15.part, f17.part, f19.part, f21.part, f27.part, f39.part])
